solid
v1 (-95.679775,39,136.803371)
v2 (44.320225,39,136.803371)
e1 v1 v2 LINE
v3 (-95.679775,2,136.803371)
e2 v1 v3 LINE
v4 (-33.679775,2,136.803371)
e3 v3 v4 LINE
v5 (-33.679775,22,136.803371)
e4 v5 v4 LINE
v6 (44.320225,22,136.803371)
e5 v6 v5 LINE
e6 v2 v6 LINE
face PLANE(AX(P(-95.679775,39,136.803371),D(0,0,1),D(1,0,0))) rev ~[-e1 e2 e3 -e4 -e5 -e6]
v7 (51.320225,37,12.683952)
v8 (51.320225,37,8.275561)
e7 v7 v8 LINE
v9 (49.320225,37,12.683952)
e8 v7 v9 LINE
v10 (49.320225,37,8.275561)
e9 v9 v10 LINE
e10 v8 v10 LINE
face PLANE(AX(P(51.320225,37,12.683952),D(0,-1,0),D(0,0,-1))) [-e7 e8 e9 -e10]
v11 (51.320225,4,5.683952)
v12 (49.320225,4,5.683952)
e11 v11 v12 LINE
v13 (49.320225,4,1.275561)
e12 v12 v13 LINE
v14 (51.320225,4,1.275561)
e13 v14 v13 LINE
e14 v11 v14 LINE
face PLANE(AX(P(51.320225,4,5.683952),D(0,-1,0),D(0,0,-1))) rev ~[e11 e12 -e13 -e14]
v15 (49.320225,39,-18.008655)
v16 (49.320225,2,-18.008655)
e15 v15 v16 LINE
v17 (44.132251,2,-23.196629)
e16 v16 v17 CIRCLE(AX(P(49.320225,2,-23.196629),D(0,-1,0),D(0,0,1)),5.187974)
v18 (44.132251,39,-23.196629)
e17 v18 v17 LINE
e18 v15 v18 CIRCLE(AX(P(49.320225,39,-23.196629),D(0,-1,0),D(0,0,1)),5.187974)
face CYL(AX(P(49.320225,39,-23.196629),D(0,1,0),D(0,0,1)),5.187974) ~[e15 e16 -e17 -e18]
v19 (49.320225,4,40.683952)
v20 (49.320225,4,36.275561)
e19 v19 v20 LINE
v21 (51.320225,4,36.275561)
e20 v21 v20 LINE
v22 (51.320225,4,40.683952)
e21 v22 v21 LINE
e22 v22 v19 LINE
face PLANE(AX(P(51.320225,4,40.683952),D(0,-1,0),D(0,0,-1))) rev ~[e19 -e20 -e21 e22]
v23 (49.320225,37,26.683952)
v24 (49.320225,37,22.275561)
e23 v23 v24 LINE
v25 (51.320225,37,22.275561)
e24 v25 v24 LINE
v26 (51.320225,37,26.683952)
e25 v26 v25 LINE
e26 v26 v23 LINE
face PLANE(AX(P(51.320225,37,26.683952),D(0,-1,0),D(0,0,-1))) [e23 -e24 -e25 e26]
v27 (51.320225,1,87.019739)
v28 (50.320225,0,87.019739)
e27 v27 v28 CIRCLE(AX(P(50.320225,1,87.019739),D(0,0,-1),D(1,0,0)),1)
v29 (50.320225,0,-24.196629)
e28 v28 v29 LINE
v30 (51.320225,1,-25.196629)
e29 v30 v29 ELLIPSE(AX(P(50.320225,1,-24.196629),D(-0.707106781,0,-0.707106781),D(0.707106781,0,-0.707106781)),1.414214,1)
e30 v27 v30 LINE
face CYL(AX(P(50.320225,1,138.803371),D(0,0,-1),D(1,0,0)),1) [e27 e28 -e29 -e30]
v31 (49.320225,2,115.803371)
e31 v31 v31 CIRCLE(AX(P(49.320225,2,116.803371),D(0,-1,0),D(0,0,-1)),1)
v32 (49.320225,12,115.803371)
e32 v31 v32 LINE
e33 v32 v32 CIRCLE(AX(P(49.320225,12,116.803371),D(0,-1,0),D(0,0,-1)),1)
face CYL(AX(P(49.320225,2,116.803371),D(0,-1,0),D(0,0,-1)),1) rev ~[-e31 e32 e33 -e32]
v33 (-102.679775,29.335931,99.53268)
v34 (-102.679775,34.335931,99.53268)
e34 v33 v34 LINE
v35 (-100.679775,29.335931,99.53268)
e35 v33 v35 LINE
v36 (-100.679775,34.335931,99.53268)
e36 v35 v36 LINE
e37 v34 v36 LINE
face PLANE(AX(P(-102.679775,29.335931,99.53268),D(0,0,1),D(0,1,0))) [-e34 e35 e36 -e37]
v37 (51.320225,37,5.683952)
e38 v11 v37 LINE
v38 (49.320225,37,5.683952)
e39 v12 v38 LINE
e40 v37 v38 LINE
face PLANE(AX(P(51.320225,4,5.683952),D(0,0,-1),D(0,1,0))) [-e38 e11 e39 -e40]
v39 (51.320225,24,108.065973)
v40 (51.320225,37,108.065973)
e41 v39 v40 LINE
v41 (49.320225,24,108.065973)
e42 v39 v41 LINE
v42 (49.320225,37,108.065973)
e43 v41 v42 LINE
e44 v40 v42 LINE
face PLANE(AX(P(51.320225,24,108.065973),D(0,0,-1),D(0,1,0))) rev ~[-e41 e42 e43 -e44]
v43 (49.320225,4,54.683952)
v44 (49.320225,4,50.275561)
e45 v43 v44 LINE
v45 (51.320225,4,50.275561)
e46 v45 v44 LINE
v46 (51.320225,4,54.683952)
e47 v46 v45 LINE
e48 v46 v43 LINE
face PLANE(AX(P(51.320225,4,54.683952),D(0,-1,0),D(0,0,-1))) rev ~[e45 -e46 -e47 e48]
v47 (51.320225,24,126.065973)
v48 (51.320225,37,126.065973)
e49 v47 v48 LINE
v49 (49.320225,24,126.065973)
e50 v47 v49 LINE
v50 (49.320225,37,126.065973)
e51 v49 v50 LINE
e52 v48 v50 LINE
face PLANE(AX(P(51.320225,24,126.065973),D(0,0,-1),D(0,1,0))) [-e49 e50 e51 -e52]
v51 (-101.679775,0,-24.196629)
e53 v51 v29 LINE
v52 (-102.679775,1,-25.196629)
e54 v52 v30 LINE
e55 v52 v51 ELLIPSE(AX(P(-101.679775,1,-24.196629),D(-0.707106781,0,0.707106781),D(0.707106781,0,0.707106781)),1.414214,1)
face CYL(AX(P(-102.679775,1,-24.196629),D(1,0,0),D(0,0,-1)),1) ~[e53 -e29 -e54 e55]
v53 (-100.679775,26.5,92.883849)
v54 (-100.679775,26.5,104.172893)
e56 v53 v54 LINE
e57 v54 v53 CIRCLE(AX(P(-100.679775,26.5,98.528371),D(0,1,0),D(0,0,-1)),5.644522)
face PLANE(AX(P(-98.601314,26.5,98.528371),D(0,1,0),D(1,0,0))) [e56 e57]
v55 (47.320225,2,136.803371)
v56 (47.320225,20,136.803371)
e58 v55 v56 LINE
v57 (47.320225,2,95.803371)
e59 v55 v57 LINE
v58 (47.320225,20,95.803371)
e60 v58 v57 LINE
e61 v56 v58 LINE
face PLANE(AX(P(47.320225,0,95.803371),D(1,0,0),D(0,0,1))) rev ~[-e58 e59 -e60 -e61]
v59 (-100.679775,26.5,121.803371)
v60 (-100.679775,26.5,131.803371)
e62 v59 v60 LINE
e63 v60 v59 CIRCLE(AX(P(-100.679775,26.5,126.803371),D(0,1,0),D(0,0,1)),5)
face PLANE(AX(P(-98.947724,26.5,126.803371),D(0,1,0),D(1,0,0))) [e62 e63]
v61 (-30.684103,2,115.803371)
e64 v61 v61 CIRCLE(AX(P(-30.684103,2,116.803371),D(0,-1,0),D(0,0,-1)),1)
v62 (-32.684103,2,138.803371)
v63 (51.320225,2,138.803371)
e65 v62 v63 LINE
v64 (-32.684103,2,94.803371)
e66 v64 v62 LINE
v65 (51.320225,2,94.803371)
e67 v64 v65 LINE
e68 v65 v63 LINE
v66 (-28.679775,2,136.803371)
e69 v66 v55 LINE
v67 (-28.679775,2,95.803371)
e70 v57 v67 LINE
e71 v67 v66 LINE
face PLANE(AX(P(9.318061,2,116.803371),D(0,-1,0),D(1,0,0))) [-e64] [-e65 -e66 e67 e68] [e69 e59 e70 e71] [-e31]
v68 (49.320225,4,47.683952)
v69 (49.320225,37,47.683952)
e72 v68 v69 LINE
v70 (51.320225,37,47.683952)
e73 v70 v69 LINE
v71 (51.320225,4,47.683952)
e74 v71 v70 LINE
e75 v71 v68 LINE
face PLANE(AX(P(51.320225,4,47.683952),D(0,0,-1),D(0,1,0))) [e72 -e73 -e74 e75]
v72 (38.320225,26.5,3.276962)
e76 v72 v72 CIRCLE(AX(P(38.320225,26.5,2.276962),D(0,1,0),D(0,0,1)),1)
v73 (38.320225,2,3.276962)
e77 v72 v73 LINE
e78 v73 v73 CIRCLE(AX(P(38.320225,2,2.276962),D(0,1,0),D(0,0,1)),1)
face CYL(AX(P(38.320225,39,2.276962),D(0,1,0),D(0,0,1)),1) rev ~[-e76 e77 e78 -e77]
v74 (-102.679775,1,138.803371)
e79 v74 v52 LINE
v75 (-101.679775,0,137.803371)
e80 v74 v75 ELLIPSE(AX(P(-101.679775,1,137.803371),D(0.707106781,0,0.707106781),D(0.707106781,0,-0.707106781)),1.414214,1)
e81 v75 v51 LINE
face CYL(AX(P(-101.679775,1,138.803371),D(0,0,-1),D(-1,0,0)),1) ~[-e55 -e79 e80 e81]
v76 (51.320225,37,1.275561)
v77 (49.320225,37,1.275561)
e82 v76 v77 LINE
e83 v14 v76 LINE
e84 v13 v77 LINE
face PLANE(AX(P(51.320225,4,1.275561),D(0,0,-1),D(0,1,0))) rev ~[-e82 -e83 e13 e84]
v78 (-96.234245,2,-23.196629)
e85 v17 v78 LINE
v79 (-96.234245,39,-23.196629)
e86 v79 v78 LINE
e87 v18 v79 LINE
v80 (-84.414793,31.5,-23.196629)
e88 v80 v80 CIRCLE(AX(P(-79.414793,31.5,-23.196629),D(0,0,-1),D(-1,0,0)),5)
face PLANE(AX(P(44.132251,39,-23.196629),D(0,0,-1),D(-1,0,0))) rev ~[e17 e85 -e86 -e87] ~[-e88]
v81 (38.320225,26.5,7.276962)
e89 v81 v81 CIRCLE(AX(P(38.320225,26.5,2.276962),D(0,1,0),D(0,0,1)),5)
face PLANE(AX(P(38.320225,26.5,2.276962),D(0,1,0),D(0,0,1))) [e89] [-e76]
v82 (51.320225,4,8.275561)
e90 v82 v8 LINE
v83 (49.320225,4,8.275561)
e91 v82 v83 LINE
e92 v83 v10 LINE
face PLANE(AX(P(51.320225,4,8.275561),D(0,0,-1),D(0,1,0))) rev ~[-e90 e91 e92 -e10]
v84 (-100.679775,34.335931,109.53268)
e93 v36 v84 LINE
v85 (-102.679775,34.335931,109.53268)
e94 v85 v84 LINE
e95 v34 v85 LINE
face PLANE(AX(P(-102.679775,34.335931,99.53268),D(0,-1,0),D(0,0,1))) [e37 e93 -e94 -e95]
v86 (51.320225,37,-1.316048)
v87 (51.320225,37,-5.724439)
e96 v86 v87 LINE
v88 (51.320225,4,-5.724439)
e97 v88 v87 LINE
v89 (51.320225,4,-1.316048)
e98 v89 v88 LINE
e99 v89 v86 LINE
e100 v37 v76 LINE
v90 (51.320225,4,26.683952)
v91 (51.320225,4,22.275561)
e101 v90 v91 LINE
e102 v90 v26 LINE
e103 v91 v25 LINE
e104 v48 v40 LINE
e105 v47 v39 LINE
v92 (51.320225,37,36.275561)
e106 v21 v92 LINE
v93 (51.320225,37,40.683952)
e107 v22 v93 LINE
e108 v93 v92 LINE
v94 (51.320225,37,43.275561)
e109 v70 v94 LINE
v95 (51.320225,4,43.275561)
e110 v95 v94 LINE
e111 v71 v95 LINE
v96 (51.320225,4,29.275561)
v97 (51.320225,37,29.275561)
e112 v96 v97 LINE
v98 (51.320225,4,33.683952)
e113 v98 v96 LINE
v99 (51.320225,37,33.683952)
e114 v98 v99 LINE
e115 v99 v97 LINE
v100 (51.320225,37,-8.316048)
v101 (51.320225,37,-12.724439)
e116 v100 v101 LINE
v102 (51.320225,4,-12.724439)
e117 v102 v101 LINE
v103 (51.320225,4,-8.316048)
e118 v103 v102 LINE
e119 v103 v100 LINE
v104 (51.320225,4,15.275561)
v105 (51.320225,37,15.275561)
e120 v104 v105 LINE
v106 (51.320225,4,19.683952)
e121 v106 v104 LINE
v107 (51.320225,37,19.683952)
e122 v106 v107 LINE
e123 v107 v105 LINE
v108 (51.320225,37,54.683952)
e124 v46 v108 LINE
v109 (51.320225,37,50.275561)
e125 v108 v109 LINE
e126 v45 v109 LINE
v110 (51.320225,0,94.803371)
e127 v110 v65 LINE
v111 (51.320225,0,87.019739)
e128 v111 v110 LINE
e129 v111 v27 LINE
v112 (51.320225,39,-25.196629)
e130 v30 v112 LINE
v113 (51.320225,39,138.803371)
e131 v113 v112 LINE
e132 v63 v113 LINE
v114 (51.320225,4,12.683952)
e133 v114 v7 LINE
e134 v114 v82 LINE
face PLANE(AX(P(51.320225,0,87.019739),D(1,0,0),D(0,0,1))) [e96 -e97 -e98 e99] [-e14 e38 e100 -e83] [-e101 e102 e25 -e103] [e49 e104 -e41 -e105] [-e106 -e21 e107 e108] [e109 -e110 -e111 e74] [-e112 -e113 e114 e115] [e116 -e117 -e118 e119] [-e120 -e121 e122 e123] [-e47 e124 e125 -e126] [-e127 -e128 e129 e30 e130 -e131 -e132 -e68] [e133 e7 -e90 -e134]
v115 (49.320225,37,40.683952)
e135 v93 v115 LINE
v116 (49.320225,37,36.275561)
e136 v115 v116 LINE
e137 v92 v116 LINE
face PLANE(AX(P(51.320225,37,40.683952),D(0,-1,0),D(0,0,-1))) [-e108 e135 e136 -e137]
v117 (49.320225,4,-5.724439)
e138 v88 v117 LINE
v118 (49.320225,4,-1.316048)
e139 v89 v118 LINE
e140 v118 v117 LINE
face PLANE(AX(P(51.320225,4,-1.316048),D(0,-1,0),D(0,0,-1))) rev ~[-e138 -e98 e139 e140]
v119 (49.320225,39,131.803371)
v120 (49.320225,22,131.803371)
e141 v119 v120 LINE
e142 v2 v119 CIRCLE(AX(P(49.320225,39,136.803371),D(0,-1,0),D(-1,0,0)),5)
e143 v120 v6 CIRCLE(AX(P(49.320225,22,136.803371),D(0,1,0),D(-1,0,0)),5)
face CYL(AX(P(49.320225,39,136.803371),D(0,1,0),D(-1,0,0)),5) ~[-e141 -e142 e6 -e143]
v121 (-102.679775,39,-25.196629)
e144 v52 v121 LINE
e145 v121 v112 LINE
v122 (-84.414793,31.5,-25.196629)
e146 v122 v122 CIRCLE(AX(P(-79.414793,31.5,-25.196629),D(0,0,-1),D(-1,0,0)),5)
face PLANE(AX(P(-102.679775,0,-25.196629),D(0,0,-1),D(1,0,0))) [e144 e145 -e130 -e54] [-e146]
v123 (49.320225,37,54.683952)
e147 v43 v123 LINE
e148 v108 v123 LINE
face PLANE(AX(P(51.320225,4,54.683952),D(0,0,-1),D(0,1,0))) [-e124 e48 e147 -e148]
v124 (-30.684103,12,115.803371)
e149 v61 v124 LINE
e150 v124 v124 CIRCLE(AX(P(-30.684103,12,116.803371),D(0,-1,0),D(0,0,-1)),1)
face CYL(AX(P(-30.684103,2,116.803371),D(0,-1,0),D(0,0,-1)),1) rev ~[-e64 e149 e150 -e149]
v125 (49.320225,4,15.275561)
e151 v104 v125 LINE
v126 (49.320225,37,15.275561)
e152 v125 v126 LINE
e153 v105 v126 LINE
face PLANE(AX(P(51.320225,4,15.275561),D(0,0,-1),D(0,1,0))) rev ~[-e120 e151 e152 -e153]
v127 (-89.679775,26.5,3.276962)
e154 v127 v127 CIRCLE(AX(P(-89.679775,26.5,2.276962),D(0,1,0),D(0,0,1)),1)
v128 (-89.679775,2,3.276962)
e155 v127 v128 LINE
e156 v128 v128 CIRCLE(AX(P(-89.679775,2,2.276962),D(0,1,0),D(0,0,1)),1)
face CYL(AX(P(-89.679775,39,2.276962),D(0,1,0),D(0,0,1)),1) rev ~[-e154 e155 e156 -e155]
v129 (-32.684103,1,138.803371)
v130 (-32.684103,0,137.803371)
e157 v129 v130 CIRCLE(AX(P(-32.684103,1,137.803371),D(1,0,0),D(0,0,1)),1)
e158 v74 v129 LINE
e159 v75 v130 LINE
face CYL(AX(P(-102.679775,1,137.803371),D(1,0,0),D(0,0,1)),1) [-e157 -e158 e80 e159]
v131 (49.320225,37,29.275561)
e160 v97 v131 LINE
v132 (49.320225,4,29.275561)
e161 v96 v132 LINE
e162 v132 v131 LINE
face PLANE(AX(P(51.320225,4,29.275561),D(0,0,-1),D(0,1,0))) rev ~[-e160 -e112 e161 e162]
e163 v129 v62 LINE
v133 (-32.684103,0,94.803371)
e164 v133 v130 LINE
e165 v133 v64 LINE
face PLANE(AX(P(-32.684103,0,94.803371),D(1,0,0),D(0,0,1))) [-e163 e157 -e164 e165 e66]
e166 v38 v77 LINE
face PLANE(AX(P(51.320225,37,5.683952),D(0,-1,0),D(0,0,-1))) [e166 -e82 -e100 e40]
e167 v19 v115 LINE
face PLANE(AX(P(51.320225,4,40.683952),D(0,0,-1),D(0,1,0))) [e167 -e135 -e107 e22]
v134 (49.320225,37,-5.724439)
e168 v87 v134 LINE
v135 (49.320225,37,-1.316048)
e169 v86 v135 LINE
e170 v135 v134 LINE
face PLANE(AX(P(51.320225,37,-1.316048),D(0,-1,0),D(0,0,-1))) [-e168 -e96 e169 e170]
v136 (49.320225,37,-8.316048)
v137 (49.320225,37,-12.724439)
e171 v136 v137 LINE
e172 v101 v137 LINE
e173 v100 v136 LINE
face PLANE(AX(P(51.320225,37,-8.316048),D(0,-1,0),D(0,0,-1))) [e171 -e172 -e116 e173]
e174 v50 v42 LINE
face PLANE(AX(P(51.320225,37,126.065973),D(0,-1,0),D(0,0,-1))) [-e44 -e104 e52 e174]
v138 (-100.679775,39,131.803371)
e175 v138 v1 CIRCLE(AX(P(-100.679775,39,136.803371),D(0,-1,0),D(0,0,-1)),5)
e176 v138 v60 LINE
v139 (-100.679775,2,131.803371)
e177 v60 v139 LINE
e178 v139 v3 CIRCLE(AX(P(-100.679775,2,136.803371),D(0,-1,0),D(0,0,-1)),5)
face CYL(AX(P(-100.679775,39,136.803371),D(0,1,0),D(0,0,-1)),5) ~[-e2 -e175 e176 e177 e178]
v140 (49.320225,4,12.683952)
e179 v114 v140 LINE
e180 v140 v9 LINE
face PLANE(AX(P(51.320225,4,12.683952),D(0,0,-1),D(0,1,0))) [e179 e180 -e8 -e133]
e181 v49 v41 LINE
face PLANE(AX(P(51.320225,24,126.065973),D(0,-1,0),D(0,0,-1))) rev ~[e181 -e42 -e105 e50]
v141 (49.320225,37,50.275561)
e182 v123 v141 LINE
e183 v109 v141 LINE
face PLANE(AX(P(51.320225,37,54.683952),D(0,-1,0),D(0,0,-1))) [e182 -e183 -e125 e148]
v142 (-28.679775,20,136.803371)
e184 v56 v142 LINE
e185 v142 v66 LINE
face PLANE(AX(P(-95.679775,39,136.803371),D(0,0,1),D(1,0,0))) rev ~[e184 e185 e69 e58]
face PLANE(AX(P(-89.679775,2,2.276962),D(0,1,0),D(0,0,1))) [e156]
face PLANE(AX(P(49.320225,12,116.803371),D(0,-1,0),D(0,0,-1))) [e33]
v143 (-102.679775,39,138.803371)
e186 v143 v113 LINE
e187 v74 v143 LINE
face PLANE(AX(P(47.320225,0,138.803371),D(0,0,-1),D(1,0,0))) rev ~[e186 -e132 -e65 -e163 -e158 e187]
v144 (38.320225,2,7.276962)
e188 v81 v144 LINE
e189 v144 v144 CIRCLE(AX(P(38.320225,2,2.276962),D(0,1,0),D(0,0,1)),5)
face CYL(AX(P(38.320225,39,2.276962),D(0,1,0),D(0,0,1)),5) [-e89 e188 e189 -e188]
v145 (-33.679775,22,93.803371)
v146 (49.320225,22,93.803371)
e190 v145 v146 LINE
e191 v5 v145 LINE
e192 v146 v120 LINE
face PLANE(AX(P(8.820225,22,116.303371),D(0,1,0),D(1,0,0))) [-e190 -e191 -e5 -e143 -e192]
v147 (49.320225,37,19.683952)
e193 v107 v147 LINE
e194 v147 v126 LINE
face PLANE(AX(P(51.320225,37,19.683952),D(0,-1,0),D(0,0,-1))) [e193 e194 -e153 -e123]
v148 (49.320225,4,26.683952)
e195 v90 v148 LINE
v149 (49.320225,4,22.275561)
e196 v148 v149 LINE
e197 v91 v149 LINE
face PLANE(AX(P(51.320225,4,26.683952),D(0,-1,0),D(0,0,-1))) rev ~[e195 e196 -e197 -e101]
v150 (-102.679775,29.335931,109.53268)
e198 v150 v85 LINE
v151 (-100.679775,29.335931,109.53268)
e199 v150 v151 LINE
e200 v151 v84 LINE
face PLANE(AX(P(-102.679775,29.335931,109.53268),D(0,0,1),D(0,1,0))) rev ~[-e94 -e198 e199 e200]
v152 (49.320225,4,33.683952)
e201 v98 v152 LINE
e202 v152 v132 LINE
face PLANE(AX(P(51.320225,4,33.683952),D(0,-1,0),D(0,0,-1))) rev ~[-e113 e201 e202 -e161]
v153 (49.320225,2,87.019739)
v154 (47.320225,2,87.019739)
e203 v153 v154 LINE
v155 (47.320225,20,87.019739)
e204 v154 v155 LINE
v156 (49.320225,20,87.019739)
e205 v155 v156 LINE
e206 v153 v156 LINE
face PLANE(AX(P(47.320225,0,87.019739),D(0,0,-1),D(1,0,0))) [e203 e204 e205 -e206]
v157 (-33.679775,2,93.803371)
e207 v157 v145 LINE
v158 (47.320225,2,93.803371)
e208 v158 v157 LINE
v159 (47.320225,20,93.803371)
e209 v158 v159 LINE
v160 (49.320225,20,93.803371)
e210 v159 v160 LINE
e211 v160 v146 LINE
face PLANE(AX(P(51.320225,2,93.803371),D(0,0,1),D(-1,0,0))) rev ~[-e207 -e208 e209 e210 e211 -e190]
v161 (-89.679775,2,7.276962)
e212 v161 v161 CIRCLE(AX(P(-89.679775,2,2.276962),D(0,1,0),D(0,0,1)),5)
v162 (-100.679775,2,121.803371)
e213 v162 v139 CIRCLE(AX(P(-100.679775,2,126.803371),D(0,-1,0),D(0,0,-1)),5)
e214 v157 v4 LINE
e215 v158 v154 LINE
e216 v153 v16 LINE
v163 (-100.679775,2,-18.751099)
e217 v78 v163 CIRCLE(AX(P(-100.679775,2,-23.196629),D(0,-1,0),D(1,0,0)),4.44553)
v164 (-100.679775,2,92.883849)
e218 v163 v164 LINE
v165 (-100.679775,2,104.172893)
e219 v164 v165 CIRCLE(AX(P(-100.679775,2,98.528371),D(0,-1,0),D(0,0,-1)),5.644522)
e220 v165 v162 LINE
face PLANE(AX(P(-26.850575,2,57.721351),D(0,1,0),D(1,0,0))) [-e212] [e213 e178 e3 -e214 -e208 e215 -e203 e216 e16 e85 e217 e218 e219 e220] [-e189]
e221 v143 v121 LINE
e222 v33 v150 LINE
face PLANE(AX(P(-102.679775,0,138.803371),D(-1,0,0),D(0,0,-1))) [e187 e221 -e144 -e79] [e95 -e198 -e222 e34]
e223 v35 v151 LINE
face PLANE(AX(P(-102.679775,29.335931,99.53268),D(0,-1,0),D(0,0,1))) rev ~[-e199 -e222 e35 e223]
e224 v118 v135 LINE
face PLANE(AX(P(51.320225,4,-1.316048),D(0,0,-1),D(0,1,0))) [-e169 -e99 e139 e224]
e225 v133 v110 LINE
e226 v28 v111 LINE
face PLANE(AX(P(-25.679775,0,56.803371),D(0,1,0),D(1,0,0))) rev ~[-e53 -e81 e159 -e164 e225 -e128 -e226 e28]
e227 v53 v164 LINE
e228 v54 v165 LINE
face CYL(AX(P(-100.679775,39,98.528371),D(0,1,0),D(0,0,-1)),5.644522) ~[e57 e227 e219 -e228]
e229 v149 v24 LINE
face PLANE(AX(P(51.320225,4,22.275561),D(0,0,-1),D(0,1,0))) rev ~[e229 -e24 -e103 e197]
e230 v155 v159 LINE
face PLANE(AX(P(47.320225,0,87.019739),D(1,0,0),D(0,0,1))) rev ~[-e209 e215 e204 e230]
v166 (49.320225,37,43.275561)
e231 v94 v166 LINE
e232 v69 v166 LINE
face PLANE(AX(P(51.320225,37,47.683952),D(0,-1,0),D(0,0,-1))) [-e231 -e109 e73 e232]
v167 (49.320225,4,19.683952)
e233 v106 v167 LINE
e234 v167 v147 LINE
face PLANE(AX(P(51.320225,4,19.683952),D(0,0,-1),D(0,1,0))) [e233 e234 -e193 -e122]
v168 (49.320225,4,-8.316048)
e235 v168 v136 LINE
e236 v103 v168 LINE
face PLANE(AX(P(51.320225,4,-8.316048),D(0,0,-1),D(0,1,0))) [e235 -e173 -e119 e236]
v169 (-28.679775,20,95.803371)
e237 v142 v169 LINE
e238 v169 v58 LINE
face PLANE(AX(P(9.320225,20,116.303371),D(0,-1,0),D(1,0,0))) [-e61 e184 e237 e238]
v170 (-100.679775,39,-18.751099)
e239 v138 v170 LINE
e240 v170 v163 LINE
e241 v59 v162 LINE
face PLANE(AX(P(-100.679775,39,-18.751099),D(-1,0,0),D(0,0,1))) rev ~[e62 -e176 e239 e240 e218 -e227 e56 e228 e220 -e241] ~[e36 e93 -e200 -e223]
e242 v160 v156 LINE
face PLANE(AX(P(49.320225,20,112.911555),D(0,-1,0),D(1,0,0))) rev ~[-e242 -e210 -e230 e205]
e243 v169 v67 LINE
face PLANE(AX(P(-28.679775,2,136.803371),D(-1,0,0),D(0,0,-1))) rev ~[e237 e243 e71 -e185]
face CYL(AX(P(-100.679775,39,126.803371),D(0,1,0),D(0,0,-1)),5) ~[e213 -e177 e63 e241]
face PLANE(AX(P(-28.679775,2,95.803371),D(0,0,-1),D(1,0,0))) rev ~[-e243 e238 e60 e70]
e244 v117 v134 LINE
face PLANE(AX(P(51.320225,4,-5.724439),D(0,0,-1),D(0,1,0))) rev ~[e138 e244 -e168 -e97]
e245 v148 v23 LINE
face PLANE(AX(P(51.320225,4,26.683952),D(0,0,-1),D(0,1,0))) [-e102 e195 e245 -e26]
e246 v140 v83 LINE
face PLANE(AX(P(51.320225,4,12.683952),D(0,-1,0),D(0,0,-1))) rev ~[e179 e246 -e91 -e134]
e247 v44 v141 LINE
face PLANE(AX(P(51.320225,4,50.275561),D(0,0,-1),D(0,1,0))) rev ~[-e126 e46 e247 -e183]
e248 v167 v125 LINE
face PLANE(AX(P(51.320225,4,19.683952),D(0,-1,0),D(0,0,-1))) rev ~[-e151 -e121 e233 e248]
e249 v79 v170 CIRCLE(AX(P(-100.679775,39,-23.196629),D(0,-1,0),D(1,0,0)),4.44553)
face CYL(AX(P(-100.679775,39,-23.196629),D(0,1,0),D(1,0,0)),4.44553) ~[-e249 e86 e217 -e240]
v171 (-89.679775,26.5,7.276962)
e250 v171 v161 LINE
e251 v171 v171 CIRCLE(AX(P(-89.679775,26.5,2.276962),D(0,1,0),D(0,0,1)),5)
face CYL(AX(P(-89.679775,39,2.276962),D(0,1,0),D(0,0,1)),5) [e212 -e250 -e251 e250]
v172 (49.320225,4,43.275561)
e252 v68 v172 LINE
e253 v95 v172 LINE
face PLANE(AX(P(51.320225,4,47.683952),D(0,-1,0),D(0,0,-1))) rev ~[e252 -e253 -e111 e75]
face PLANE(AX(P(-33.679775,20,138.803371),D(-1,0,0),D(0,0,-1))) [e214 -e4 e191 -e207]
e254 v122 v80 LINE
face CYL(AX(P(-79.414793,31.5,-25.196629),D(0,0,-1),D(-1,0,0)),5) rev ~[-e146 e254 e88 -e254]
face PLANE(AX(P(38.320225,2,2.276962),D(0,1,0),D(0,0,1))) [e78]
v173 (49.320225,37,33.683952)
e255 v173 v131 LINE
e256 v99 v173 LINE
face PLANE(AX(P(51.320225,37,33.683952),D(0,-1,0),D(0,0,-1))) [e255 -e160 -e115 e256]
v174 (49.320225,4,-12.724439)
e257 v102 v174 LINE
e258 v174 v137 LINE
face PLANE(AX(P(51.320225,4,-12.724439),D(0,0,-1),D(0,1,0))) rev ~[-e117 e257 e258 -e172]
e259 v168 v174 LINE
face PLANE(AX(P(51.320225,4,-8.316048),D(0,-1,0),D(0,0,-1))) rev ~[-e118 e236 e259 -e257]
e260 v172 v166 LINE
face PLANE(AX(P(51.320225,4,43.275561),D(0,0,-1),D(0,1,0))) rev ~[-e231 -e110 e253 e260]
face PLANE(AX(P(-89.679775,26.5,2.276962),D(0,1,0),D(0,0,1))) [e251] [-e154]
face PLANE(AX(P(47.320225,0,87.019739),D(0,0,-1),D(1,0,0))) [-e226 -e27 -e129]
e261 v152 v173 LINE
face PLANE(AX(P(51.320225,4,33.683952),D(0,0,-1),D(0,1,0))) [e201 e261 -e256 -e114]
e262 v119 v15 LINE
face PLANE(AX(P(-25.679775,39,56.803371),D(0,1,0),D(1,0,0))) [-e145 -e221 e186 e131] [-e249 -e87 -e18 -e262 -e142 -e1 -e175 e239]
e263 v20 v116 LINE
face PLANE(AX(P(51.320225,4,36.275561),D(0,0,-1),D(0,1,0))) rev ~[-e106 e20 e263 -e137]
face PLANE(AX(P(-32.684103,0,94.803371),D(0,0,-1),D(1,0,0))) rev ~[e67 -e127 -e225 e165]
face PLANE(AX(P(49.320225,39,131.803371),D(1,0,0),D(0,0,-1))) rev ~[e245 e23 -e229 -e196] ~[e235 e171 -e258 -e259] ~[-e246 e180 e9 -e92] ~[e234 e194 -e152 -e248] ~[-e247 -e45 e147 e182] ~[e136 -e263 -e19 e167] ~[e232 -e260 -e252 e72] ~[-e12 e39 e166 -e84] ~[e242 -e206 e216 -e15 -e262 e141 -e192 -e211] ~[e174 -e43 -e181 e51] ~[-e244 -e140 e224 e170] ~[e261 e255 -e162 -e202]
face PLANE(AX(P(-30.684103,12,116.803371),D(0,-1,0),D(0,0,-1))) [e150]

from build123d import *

# Parameters (mm, degrees)
SKETCH1_W               = 154
SKETCH1_H               = 164
BOSS_EXTRUDE1_DEPTH     = 39
FILLET2_R               = 1
SKETCH2_R               = 5
SKETCH2_R_2             = 1
CUT_EXTRUDE1_DEPTH      = 37
CUT_EXTRUDE2_DEPTH      = 178.004271116
CUT_EXTRUDE2_DEPTH_BACK = 12.5
SKETCH3_R               = 5
SKETCH4_W               = 76
SKETCH4_H               = 41
CUT_EXTRUDE3_DEPTH      = 20
SKETCH5_W               = 80
SKETCH5_H               = 2
BOSS_EXTRUDE2_DEPTH     = 18
SKETCH7_W               = 85
SKETCH7_H               = 45
BOSS_EXTRUDE3_DEPTH     = 2
SKETCH8_W               = 18
SKETCH8_H               = 13
CUT_EXTRUDE4_DEPTH      = 3
SKETCH10_W              = 4
SKETCH10_H              = 51.783631986
BOSS_EXTRUDE4_DEPTH     = 20
SKETCH11_W              = 84.004327952
SKETCH11_H              = 44
CUT_EXTRUDE8_DEPTH      = 2
SKETCH12_W              = 4.408390859
SKETCH12_H              = 33
CUT_EXTRUDE9_DEPTH      = 3
SKETCH13_R              = 5
CUT_EXTRUDE10_DEPTH     = 10
SKETCH14_W              = 10
SKETCH14_H              = 5
CUT_EXTRUDE11_DEPTH     = 10
SKETCH15_R              = 1
CUT_EXTRUDE12_DEPTH     = 10


with BuildPart() as part:
    # Sketch1 → Boss-Extrude1 (new body)
    with BuildSketch(Plane(origin=(0, 0, 0), x_dir=(1, 0, 0), z_dir=(0, 1, 0))):
        with Locations((-25.679775281, -56.803370787)):
            Rectangle(SKETCH1_W, SKETCH1_H)
    extrude(amount=BOSS_EXTRUDE1_DEPTH)

    # Fillet2
    fillet2_edges = [part.edges().sort_by_distance(p)[0] for p in [
        (-25.679775281, 0, -25.196629213),
        (51.320224719, 0, 56.803370787),
        (-25.679775281, 0, 138.803370787),
        (-102.679775281, 0, 56.803370787),
    ]]
    fillet(fillet2_edges, radius=FILLET2_R)

    # Sketch2 → Cut-Extrude1 (cut)
    # profile 1 of 3: a face of its own
    with BuildSketch(Plane(origin=(0, 39, 0), x_dir=(1, 0, 0), z_dir=(0, 1, 0))):
        with BuildLine():
            Line((44.132250696, 23.196629213), (-96.23424538, 23.196629213))
            ThreePointArc((-96.23424538, 23.196629213), (-97.536310942, 20.053164875), (-100.679775281, 18.751099313))
            Line((-100.679775281, 18.751099313), (-100.679775281, -92.88384898))
            ThreePointArc((-100.679775281, -92.88384898), (-95.035253474, -98.528370787), (-100.679775281, -104.172892593))
            Line((-100.679775281, -104.172892593), (-100.679775281, -121.803370787))
            ThreePointArc((-100.679775281, -121.803370787), (-95.679775281, -126.803370787), (-100.679775281, -131.803370787))
            ThreePointArc((-100.679775281, -131.803370787), (-97.144241375, -133.267836881), (-95.679775281, -136.803370787))
            Line((-95.679775281, -136.803370787), (44.320224719, -136.803370787))
            ThreePointArc((44.320224719, -136.803370787), (45.784690813, -133.267836881), (49.320224719, -131.803370787))
            Line((49.320224719, -131.803370787), (49.320224719, 18.00865519))
            ThreePointArc((49.320224719, 18.00865519), (45.651773106, 19.528177601), (44.132250696, 23.196629213))
        make_face()
        with Locations(Location((-89.679775281, -2.276961684, 0), (0, 0, 270))):
            Circle(SKETCH2_R, mode=Mode.SUBTRACT)
        with Locations(Location((38.320224719, -2.276961684, 0), (0, 0, 270))):
            Circle(SKETCH2_R, mode=Mode.SUBTRACT)
    # profile 2 of 3: a face of its own
    with BuildSketch(Plane(origin=(0, 39, 0), x_dir=(1, 0, 0), z_dir=(0, 1, 0))):
        with Locations(Location((-89.679775281, -2.276961684, 0), (0, 0, 270))):
            Circle(SKETCH2_R_2)
    # profile 3 of 3: a face of its own
    with BuildSketch(Plane(origin=(0, 39, 0), x_dir=(1, 0, 0), z_dir=(0, 1, 0))):
        with Locations(Location((38.320224719, -2.276961684, 0), (0, 0, 270))):
            Circle(SKETCH2_R_2)
    extrude(amount=-CUT_EXTRUDE1_DEPTH, mode=Mode.SUBTRACT)

    # Sketch3 → Cut-Extrude2 (cut, two sides: drawn at the far end of the back side and taken through both)
    with BuildSketch(Plane(origin=(0, 39, 0), x_dir=(1, 0, 0), z_dir=(0, 1, 0)).offset(-CUT_EXTRUDE2_DEPTH_BACK)):
        with Locations(Location((-89.679775281, -2.276961684, 0), (0, 0, 270))):
            Circle(SKETCH3_R)
        with Locations(Location((38.320224719, -2.276961684, 0), (0, 0, 270))):
            Circle(SKETCH3_R)
        with BuildLine():
            Line((-100.679775281, -92.528370787), (-100.679775281, -104.528370787))
            ThreePointArc((-100.679775281, -104.528370787), (-94.679775281, -98.528370787), (-100.679775281, -92.528370787))
        make_face()
        with BuildLine():
            Line((-100.679775281, -121.803370787), (-100.679775281, -131.803370787))
            ThreePointArc((-100.679775281, -131.803370787), (-95.679775281, -126.803370787), (-100.679775281, -121.803370787))
        make_face()
    extrude(amount=CUT_EXTRUDE2_DEPTH + CUT_EXTRUDE2_DEPTH_BACK, mode=Mode.SUBTRACT)

    # Sketch4 → Cut-Extrude3 (cut)
    with BuildSketch(Plane.XZ):
        with Locations((9.320224719, 116.303370787)):
            Rectangle(SKETCH4_W, SKETCH4_H)
    extrude(amount=-CUT_EXTRUDE3_DEPTH, mode=Mode.SUBTRACT)

    # Sketch5 → Boss-Extrude2 (add)
    with BuildSketch(Plane(origin=(0, 2, 0), x_dir=(1, 0, 0), z_dir=(0, 1, 0))):
        with Locations((11.320224719, -94.803370787)):
            Rectangle(SKETCH5_W, SKETCH5_H)
        Polygon((-28.679775281, -95.803370787), (-28.679775281, -93.803370787), (-33.679775281, -93.803370787), (-33.679775281, -136.803370787), (-28.679775281, -136.803370787), align=None)
    extrude(amount=BOSS_EXTRUDE2_DEPTH)

    # Sketch7 → Boss-Extrude3 (add)
    with BuildSketch(Plane(origin=(0, 20, 0), x_dir=(1, 0, 0), z_dir=(0, 1, 0))):
        with Locations((8.820224719, -116.303370787)):
            Rectangle(SKETCH7_W, SKETCH7_H)
    extrude(amount=BOSS_EXTRUDE3_DEPTH)

    # Sketch8 → Cut-Extrude4 (cut)
    with BuildSketch(Plane(origin=(51.320224719, 0, 0), x_dir=(0, 0, -1), z_dir=(1, 0, 0))):
        with Locations((-117.065973314, 30.5)):
            Rectangle(SKETCH8_W, SKETCH8_H)
    extrude(amount=-CUT_EXTRUDE4_DEPTH, mode=Mode.SUBTRACT)

    # Sketch10 → Boss-Extrude4 (add)
    with BuildSketch(Plane.XZ):
        with Locations((49.320224719, 112.911554794)):
            Rectangle(SKETCH10_W, SKETCH10_H)
    extrude(amount=-BOSS_EXTRUDE4_DEPTH)

    # Sketch11 → Cut-Extrude8 (cut)
    with BuildSketch(Plane.XZ):
        with Locations((9.318060743, 116.803370787)):
            Rectangle(SKETCH11_W, SKETCH11_H)
    extrude(amount=-CUT_EXTRUDE8_DEPTH, mode=Mode.SUBTRACT)

    # Sketch12 → Cut-Extrude9 (cut)
    with BuildSketch(Plane(origin=(51.320224719, 0, 0), x_dir=(0, 0, -1), z_dir=(1, 0, 0))):
        with Locations((-52.479756675, 20.5)):
            Rectangle(SKETCH12_W, SKETCH12_H)
        with Locations((-45.479756675, 20.5)):
            Rectangle(SKETCH12_W, SKETCH12_H)
        with Locations((-38.479756675, 20.5)):
            Rectangle(SKETCH12_W, SKETCH12_H)
        with Locations((-31.479756676, 20.5)):
            Rectangle(SKETCH12_W, SKETCH12_H)
        with Locations((-24.479756676, 20.5)):
            Rectangle(SKETCH12_W, SKETCH12_H)
        with Locations((-17.479756675, 20.5)):
            Rectangle(SKETCH12_W, SKETCH12_H)
        with Locations((-10.479756676, 20.5)):
            Rectangle(SKETCH12_W, SKETCH12_H)
        with Locations((-3.479756676, 20.5)):
            Rectangle(SKETCH12_W, SKETCH12_H)
        with Locations((3.520243324, 20.5)):
            Rectangle(SKETCH12_W, SKETCH12_H)
        with Locations((10.520243325, 20.5)):
            Rectangle(SKETCH12_W, SKETCH12_H)
    extrude(amount=-CUT_EXTRUDE9_DEPTH, mode=Mode.SUBTRACT)

    # Sketch13 → Cut-Extrude10 (cut)
    with BuildSketch(Plane(origin=(0, 0, -25.196629213), x_dir=(-1, 0, 0), z_dir=(0, 0, -1))):
        with Locations((79.41479284, 31.5)):
            Circle(SKETCH13_R)
    extrude(amount=-CUT_EXTRUDE10_DEPTH, mode=Mode.SUBTRACT)

    # Sketch14 → Cut-Extrude11 (cut)
    with BuildSketch(Plane.ZY.offset(102.679775281)):
        with Locations((104.532679505, 31.835930774)):
            Rectangle(SKETCH14_W, SKETCH14_H)
    extrude(amount=-CUT_EXTRUDE11_DEPTH, mode=Mode.SUBTRACT)

    # Sketch15 → Cut-Extrude12 (cut)
    with BuildSketch(Plane.XZ.offset(-2)):
        with Locations(Location((-30.684103233, 116.803370787, 0), (0, 0, 270))):
            Circle(SKETCH15_R)
        with Locations(Location((49.320224719, 116.803370787, 0), (0, 0, 270))):
            Circle(SKETCH15_R)
    extrude(amount=-CUT_EXTRUDE12_DEPTH, mode=Mode.SUBTRACT)


solid = part.part
